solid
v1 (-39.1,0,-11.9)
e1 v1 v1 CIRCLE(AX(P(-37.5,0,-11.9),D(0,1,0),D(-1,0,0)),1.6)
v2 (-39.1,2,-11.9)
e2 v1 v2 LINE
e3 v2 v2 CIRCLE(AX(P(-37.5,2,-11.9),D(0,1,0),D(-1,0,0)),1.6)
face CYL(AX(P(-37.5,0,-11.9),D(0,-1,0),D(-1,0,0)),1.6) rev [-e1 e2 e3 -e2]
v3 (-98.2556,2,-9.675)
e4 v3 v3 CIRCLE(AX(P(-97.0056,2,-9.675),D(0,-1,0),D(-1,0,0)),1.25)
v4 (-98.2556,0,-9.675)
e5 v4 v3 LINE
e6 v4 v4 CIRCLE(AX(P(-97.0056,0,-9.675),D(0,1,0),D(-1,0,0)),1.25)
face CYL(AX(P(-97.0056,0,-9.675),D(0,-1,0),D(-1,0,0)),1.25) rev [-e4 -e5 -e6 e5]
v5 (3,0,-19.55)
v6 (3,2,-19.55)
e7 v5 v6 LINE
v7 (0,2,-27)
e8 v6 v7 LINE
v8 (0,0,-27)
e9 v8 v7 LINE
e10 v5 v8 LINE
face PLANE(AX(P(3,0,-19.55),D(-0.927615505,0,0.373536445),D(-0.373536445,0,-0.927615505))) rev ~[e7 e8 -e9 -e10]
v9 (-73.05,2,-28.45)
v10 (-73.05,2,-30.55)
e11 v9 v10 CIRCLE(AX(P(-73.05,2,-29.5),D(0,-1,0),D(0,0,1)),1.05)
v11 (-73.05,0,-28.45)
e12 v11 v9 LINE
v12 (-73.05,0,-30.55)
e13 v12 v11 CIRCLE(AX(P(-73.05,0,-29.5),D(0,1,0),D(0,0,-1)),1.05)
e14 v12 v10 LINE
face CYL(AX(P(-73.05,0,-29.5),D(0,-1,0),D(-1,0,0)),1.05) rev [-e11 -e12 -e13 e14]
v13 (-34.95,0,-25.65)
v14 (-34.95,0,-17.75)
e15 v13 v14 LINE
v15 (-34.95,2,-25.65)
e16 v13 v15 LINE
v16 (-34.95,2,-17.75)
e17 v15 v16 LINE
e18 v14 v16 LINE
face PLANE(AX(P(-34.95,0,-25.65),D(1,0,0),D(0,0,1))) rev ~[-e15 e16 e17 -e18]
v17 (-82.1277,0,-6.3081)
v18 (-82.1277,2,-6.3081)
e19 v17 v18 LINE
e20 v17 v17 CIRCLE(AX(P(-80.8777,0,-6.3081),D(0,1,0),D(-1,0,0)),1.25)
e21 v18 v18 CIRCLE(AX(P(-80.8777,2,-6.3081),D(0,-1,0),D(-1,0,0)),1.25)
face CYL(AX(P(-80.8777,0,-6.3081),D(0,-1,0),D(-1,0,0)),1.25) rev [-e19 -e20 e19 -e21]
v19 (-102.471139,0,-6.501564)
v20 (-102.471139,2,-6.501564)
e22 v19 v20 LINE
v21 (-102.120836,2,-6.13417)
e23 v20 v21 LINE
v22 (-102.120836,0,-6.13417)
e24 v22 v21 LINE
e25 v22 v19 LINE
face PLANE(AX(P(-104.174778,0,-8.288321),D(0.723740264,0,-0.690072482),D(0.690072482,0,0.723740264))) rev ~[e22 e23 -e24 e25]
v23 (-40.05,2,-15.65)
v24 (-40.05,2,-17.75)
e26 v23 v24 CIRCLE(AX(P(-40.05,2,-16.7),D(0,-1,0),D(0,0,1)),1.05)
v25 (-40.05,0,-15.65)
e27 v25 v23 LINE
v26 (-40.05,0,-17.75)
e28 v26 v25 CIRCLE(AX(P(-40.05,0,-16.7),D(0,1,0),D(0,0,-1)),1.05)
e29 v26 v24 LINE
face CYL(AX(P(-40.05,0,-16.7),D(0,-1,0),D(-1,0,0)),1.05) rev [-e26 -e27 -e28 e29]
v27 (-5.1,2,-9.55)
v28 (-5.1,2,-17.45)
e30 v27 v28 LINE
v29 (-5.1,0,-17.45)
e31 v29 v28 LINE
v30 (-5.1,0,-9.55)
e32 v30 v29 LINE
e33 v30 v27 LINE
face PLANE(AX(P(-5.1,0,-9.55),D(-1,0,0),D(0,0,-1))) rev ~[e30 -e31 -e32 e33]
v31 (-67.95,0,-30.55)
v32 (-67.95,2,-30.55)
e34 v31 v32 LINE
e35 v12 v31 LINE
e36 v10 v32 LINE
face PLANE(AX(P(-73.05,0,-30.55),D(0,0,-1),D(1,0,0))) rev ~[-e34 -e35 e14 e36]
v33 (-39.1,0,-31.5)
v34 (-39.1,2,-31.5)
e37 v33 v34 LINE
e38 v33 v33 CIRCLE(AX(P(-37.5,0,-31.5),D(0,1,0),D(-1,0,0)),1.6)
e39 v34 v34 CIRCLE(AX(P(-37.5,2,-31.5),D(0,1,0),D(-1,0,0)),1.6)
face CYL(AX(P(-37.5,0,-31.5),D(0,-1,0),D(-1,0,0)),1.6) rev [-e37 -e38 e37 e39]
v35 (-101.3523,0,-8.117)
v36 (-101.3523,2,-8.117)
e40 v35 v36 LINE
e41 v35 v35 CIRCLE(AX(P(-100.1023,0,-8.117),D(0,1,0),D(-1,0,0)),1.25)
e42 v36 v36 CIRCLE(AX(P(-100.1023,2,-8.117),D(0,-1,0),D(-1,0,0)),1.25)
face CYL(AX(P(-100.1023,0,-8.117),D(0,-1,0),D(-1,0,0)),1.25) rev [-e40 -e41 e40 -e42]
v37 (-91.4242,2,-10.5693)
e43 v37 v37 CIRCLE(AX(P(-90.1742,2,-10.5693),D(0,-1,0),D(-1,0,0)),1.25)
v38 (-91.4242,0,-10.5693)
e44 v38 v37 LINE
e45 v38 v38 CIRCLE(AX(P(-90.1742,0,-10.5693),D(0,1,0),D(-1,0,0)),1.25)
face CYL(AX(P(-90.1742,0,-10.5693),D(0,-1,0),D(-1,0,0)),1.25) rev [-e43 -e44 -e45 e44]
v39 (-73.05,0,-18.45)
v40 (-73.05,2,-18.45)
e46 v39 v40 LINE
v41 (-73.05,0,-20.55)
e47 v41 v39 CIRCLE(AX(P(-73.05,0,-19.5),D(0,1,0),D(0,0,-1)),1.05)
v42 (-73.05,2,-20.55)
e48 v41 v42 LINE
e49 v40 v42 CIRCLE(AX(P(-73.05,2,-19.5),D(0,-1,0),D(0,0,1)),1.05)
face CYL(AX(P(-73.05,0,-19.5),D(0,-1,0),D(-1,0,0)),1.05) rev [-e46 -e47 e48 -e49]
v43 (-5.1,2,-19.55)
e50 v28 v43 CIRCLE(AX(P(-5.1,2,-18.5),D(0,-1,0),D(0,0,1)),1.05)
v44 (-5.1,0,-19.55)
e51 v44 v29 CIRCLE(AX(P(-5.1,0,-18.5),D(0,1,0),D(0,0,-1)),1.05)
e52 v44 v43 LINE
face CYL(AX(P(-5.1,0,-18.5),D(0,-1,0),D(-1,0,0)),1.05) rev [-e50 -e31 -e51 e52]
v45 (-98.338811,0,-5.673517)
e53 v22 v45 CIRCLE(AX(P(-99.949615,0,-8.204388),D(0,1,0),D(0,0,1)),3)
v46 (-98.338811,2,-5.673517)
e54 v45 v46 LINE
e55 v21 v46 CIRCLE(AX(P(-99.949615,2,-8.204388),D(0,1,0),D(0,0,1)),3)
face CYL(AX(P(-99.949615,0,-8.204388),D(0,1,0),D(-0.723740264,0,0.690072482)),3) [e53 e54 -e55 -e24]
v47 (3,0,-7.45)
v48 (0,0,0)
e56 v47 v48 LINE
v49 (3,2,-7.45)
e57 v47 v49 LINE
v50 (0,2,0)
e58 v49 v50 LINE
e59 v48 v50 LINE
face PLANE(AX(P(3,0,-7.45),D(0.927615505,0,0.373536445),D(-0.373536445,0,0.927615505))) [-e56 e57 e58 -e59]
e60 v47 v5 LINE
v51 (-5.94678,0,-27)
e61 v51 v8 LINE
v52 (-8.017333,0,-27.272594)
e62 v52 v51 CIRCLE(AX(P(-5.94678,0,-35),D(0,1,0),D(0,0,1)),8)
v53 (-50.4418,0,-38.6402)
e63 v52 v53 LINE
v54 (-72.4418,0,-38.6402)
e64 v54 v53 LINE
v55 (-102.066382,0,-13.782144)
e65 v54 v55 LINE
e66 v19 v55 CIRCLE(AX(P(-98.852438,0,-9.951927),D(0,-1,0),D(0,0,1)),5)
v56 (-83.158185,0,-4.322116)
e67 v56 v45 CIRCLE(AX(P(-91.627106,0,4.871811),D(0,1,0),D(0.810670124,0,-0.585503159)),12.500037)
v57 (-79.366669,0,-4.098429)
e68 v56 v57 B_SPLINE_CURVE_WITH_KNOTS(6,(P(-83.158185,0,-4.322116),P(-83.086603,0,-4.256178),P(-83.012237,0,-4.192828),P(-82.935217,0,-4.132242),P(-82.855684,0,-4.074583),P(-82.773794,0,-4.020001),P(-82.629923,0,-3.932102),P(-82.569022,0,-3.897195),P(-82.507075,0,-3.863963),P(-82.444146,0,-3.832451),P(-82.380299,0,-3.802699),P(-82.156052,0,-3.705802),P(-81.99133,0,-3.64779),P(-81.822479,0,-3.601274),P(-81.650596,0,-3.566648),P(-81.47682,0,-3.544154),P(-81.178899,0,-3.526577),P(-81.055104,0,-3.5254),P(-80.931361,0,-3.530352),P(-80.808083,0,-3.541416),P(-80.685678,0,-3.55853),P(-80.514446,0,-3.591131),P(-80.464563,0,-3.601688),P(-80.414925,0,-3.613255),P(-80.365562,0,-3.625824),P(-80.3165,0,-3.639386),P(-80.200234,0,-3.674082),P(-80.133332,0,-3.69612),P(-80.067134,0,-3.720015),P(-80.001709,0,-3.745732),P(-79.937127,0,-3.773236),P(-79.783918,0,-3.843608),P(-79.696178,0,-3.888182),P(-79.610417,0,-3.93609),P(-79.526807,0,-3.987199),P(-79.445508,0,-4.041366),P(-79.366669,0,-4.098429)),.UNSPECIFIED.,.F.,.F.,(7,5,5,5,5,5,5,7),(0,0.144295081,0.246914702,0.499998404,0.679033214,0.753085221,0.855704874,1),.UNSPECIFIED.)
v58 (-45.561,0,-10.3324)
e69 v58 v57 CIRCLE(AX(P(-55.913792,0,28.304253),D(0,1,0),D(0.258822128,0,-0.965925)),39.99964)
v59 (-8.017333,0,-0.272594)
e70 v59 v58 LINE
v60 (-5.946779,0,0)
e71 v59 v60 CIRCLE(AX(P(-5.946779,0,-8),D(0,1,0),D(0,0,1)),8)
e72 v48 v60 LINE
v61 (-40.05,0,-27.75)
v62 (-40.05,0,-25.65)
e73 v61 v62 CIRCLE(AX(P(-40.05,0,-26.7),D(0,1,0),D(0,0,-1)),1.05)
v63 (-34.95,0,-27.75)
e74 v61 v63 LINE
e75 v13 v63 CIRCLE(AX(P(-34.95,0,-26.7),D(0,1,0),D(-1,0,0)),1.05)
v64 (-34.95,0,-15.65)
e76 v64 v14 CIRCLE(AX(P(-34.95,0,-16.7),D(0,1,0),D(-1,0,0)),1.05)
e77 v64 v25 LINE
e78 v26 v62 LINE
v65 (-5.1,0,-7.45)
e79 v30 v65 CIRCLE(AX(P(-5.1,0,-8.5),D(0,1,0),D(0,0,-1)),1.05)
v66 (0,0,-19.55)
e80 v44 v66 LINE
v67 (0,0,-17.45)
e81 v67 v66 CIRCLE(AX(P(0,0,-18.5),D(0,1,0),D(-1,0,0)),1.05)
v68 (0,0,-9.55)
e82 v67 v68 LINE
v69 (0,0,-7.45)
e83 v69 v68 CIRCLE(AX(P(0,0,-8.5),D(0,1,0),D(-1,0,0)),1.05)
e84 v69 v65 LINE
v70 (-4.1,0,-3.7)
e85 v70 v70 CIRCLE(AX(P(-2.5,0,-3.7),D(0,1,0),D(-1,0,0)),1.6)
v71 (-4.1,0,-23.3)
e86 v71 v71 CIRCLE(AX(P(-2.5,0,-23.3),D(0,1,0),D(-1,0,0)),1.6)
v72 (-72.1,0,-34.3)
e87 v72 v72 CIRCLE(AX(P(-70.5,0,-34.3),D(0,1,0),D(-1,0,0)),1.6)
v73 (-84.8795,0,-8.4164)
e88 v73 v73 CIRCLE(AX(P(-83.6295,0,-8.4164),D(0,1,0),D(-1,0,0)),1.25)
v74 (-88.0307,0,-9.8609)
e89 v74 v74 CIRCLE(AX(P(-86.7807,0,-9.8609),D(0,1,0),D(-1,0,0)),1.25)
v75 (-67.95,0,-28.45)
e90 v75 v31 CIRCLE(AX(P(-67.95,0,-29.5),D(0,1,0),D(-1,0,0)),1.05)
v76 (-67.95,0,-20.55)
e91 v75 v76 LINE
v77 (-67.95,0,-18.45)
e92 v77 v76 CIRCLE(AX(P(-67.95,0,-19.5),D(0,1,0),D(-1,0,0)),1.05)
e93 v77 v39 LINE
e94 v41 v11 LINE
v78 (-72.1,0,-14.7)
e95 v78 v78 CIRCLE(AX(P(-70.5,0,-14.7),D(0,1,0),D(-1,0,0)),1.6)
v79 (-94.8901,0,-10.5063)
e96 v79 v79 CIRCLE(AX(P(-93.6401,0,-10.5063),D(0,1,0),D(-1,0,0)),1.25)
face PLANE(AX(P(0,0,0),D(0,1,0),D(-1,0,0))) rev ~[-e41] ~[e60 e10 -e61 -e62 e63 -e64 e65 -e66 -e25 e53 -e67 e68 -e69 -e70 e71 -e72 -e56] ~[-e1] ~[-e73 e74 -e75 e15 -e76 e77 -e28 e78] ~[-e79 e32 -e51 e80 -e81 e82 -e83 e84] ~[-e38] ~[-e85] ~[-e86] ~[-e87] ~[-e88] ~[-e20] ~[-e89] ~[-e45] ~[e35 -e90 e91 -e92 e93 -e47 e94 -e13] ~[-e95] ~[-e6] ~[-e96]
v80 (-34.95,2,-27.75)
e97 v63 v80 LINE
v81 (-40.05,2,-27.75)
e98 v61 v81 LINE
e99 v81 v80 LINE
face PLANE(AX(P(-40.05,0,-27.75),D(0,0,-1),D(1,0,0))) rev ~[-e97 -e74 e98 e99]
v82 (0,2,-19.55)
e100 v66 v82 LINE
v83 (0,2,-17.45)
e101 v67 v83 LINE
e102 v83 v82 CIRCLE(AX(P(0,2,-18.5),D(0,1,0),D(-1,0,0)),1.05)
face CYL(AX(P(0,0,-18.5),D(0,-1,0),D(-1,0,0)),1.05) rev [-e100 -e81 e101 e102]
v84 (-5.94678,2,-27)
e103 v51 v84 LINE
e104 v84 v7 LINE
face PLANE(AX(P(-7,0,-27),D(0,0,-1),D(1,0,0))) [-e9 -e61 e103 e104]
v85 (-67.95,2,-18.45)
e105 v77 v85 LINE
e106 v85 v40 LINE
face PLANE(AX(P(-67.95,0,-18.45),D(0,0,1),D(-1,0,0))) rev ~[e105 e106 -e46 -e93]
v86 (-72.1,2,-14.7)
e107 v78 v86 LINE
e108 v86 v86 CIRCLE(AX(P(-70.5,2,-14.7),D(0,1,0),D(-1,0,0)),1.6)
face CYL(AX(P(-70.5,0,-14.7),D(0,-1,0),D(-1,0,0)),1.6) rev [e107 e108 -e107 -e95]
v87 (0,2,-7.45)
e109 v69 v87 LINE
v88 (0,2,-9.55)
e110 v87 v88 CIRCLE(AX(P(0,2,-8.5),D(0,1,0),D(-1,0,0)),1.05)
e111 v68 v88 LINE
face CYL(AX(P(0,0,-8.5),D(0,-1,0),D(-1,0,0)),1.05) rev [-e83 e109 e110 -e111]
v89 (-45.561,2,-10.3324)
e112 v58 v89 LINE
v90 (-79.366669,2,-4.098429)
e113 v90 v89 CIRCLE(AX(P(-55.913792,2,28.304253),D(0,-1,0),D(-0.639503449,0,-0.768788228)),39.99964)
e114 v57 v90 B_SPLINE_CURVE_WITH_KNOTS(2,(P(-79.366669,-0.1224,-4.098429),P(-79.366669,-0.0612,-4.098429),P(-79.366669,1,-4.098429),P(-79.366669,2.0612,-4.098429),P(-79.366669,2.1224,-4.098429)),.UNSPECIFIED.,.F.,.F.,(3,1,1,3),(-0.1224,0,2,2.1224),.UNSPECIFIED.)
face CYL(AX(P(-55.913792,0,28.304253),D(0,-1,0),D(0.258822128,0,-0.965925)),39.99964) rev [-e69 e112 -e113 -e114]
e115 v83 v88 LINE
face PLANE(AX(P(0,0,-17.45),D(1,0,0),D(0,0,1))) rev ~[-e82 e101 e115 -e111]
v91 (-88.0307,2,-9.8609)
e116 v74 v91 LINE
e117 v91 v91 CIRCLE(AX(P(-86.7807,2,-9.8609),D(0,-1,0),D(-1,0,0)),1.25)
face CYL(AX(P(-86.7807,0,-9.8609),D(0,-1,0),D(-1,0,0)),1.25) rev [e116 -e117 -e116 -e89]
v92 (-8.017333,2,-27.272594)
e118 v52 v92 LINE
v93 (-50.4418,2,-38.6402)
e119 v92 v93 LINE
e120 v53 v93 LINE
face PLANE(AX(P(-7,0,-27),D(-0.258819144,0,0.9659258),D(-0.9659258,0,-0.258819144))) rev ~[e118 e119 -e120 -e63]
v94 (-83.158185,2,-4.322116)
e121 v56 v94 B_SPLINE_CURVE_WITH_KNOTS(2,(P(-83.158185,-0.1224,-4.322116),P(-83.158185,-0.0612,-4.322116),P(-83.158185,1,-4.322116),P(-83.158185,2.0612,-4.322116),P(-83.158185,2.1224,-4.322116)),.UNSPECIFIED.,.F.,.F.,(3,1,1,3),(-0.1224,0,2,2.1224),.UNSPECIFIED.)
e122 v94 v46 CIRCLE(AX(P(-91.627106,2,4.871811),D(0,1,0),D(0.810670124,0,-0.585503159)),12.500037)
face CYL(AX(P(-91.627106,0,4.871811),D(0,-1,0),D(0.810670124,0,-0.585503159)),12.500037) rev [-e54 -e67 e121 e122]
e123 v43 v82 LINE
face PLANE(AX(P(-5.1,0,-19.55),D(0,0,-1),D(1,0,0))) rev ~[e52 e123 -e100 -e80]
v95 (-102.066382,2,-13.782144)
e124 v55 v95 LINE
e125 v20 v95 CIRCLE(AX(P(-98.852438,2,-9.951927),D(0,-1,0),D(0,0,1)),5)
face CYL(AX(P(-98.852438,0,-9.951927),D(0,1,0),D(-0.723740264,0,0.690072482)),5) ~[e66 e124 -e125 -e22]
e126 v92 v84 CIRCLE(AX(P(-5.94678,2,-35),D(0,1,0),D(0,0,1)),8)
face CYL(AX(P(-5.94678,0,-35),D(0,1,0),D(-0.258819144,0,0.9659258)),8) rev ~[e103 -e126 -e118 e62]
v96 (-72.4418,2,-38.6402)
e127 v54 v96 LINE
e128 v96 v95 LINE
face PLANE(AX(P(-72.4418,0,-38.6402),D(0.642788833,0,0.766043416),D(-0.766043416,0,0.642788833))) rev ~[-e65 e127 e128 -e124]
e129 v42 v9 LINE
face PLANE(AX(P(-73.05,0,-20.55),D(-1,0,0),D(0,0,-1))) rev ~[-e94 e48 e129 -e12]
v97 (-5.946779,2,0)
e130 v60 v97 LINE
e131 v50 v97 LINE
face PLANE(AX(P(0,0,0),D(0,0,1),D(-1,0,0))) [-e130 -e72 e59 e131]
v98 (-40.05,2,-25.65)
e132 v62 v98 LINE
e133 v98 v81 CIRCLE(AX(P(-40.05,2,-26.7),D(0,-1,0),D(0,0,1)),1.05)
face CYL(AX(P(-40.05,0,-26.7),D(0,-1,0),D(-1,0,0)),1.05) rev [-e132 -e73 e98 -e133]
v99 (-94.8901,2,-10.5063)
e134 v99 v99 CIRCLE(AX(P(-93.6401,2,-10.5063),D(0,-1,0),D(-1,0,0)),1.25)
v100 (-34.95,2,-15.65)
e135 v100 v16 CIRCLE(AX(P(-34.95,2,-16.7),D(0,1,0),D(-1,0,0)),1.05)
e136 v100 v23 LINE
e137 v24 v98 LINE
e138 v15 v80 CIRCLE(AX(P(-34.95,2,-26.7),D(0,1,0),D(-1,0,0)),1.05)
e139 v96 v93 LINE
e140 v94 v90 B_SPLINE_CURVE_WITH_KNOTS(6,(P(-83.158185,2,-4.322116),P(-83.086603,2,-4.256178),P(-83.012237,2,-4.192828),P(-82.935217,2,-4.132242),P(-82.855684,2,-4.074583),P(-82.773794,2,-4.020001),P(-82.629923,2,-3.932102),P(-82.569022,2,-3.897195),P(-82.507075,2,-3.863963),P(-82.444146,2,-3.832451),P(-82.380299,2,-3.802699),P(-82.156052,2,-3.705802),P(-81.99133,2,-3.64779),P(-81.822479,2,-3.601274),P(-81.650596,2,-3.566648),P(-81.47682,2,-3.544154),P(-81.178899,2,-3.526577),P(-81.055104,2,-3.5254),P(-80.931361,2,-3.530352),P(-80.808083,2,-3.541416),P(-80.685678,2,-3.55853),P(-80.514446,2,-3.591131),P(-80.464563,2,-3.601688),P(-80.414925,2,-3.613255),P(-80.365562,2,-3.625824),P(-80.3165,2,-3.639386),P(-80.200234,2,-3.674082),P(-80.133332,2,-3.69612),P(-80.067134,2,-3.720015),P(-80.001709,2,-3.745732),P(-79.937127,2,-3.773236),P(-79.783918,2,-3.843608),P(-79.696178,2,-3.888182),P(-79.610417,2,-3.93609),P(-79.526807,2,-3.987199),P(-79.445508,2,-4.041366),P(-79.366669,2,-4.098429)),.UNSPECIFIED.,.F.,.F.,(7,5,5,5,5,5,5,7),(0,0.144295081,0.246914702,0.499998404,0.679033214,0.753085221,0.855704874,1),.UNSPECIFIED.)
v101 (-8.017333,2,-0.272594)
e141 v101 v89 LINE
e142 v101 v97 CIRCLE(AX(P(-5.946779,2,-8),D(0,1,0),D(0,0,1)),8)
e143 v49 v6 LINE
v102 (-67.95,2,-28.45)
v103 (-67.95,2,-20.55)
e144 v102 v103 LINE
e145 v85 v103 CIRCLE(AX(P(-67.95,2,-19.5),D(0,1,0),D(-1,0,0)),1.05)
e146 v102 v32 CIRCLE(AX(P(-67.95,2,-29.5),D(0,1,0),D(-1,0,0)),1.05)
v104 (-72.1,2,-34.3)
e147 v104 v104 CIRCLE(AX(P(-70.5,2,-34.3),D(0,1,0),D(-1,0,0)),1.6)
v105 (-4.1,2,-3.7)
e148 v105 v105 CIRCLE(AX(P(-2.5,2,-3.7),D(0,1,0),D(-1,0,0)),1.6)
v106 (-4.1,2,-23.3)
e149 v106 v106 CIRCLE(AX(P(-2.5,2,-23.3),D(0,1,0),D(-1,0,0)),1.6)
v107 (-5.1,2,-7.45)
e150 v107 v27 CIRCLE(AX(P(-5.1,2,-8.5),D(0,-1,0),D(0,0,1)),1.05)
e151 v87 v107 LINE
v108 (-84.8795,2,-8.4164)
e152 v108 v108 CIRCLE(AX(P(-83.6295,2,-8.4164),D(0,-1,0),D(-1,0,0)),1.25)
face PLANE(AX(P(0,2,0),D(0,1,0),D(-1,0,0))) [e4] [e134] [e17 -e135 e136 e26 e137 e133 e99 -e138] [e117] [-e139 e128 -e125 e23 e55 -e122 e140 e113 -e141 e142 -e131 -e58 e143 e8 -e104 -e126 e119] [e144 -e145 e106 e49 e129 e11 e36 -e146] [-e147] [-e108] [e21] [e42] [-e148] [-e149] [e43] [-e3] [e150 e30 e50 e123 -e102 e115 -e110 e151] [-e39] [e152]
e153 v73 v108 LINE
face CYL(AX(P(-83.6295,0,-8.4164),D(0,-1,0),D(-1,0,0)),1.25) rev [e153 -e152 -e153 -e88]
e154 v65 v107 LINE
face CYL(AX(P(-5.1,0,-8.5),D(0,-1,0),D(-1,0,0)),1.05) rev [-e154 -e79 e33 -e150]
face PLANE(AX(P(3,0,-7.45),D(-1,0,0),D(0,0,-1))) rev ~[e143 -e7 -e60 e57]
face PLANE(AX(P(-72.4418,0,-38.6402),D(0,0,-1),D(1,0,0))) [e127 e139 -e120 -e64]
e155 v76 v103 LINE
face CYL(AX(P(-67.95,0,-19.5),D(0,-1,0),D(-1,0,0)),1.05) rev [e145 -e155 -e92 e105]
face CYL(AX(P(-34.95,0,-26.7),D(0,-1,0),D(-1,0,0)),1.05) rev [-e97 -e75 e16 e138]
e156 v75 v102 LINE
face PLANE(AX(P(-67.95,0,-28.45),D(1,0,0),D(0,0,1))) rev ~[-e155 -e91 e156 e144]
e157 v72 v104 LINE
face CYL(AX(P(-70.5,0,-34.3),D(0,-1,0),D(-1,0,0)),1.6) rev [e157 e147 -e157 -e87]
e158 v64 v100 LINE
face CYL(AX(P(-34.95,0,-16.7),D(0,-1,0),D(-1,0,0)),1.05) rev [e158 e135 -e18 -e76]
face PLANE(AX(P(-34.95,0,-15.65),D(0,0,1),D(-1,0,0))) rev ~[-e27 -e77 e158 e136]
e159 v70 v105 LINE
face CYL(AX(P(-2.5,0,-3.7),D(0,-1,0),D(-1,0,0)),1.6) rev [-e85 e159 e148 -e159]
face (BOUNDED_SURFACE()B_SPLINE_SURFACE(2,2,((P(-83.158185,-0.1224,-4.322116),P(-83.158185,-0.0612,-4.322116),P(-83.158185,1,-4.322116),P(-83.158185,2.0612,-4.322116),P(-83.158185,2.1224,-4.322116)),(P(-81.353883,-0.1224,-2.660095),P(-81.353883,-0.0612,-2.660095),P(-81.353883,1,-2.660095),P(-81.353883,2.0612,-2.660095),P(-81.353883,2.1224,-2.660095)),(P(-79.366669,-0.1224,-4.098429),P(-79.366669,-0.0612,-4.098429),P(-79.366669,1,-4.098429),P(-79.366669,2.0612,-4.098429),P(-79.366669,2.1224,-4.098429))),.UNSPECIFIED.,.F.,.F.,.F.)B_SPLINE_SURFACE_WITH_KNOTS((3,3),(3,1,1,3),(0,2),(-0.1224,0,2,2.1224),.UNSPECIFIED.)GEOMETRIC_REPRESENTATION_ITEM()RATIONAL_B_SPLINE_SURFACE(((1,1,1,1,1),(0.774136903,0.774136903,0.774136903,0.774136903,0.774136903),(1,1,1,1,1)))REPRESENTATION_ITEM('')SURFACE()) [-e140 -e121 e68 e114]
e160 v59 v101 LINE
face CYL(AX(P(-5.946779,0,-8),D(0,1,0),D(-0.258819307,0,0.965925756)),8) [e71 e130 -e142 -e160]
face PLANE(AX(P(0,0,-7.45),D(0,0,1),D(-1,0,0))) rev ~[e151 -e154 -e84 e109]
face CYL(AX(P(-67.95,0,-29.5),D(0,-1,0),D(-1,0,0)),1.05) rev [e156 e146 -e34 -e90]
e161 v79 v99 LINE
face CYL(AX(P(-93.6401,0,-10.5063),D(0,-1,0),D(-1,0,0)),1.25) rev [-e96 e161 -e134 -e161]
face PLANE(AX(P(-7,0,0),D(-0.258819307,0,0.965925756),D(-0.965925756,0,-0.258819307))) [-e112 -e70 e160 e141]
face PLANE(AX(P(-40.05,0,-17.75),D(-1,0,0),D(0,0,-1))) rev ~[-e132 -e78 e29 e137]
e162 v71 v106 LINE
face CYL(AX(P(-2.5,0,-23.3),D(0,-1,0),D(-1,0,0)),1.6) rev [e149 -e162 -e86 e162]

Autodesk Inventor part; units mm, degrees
ref_plane "YZ Plane" through (0, 0, 0) normal (1, 0, 0) x (0, 1, 0)
ref_plane "XZ Plane" through (0, 0, 0) normal (0, 1, 0) x (-1, 0, 0)
ref_plane "XY Plane" through (0, 0, 0) normal (0, 0, 1) x (1, 0, 0)
sketch "スケッチ1" plane through (0, 0, 0) normal (0, 1, 0) x (-1, 0, 0)
  line L0 (0, 0) -> (7, 0)
  line L1 (7, 0) -> (7, -27) construction
  line L2 (7, -27) -> (0, -27)
  line L3 (0, -27) -> (0, 0) construction
  circle A0 centre (2.5, -3.7) radius 1.6
  circle A1 centre (2.5, -23.3) radius 1.6
  line L4 (5.05, -7.5) -> (0.05, -7.5) construction
  line L5 (0.05, -7.5) -> (0.05, -19.5) construction
  line L6 (0.05, -19.5) -> (5.05, -19.5) construction
  line L7 (5.05, -19.5) -> (5.05, -7.5) construction
  line L8 (0, -7.45) -> (5.1, -7.45)
  line L9 (5.1, -7.45) -> (5.1, -19.55)
  line L10 (5.1, -19.55) -> (0, -19.55)
  line L11 (0, -19.55) -> (0, -7.45)
  line L12 (84.5459, 21.5815) -> (61.9185, -1.0459) construction
  line L13 (61.9185, -1.0459) -> (65.4541, -4.5815) construction
  line L14 (65.4541, -4.5815) -> (88.0815, 18.0459) construction
  line L15 (88.0815, 18.0459) -> (84.5459, 21.5815) construction
  line L16 (70.3953, 0.3598) -> (83.1317, 13.0962)
  circle A2 centre (100.1023, -8.117) radius 1.25
  line L17 (7, 0) -> (45.561, -10.3324)
  line L18 (7, -27) -> (50.4418, -38.6402)
  line L19 (72.4418, -38.6402) -> (106.1477, -10.3575)
  line L20 (106.1477, -10.3575) -> (100.2529, -4.1751)
  arc A3 (45.561, -10.3324) -> (81.4937, -2.447) centre (55.9138, 28.3046) ccw
  line L21 (72.4418, -38.6402) -> (50.4418, -38.6402)
  line L22 (40, -9.2) -> (35, -9.2) construction
  line L23 (35, -9.2) -> (35, -34.2) construction
  line L24 (35, -34.2) -> (40, -34.2) construction
  line L25 (40, -34.2) -> (40, -9.2) construction
  circle A4 centre (97.0056, -9.675) radius 1.25
  circle A5 centre (93.6401, -10.5063) radius 1.25
  circle A6 centre (90.1742, -10.5693) radius 1.25
  circle A7 centre (86.7807, -9.8609) radius 1.25
  circle A8 centre (83.6295, -8.4164) radius 1.25
  circle A9 centre (80.8777, -6.3081) radius 1.25
  line L26 (100.2529, -4.1751) -> (104.1748, -8.2883)
  arc A10 (81.4937, -2.447) -> (100.2529, -4.1751) centre (91.6271, 4.8718) ccw
  line L27 (40, -15.7) -> (35, -15.7) construction
  line L28 (35, -15.7) -> (35, -27.7) construction
  line L29 (35, -27.7) -> (40, -27.7) construction
  line L30 (40, -27.7) -> (40, -15.7) construction
  line L31 (34.95, -15.65) -> (40.05, -15.65)
  line L32 (40.05, -15.65) -> (40.05, -27.75)
  line L33 (40.05, -27.75) -> (34.95, -27.75)
  line L34 (34.95, -27.75) -> (34.95, -15.65)
  circle A11 centre (37.5, -11.9) radius 1.6
  circle A12 centre (37.5, -31.5) radius 1.6
  line L35 (73, -12) -> (68, -12) construction
  line L36 (68, -12) -> (68, -37) construction
  line L37 (68, -37) -> (73, -37) construction
  line L38 (73, -37) -> (73, -12) construction
  line L39 (73, -18.5) -> (68, -18.5) construction
  line L40 (68, -18.5) -> (68, -30.5) construction
  line L41 (68, -30.5) -> (73, -30.5) construction
  line L42 (73, -30.5) -> (73, -18.5) construction
  line L43 (67.95, -18.45) -> (73.05, -18.45)
  line L44 (73.05, -18.45) -> (73.05, -30.55)
  line L45 (73.05, -30.55) -> (67.95, -30.55)
  line L46 (67.95, -30.55) -> (67.95, -18.45)
  circle A13 centre (70.5, -14.7) radius 1.6
  circle A14 centre (70.5, -34.3) radius 1.6
  circle A15 centre (73.05, -19.5) radius 1.05
  circle A16 centre (67.95, -19.5) radius 1.05
  circle A17 centre (67.95, -29.5) radius 1.05
  circle A18 centre (73.05, -29.5) radius 1.05
  circle A19 centre (40.05, -16.7) radius 1.05
  circle A20 centre (34.95, -16.7) radius 1.05
  circle A21 centre (34.95, -26.7) radius 1.05
  circle A22 centre (40.05, -26.7) radius 1.05
  circle A23 centre (5.1, -8.5) radius 1.05
  circle A24 centre (0, -8.5) radius 1.05
  circle A25 centre (0, -18.5) radius 1.05
  circle A26 centre (5.1, -18.5) radius 1.05
  line L47 (-3, -7.45) -> (-3, -19.55)
  line L48 (-3, -19.55) -> (0, -27)
  line L49 (-3, -7.45) -> (0, 0)
  circle A27 centre (91.6271, 4.8718) radius 15.5
  point P0 (75, 8.5)
  point P1 (91.6085, -20.8534)
  point P2 (82.042, -3.1517)
  point P3 (81.2596, -2.6403)
  point P4 (55.561, -0.3324)
  point P5 (40, -14.6)
  point P6 (35, -14.6)
  point P7 (40, -28.8)
  point P8 (35, -28.8)
  dimension "d0" = 7
  dimension "d1" = 27
  dimension "d2" = 3.2
  dimension "d3" = 3.2
  dimension "d4" = 5
  dimension "d5" = 12
  dimension "d6" = 2.5
  dimension "d7" = 2.5
  dimension "d8" = 19.6
  dimension "d9" = 3.7
  dimension "d11" = 7.5
  dimension "d12" = 0.05
  dimension "d20" = 32
  dimension "d21" = 5
  dimension "d22" = 45
  dimension "d23" = 2.5
  dimension "d24" = 16
  dimension "d25" = 75
  dimension "d26" = 8.5
  dimension "d27" = 30
  dimension "d33" = 27
  dimension "d35" = 2.5
  dimension "d44" = 75
  dimension "d49" = 75
  dimension "d52" = 40
  dimension "d53" = 30
  dimension "d56" = 39
  dimension "d61" = 5
  dimension "d62" = 25
  dimension "d63" = 33
  dimension "d64" = 9.2
  dimension "d69" = 77
  dimension "d72" = 22
  dimension "d73" = 12.5
  dimension "d74" = 50
  dimension "d75" = 21
  dimension "d76" = 44
  dimension "d77" = 12
  dimension "d78" = 6.5
  dimension "d79" = 0.05
  dimension "d84" = 3.2
  dimension "d85" = 2.5
  dimension "d86" = 2.7
  dimension "d88" = 3.2
  dimension "d89" = 19.6
  dimension "d90" = 2.5
  dimension "d91" = 5
  dimension "d92" = 25
  dimension "d93" = 12
  dimension "d94" = 6.5
  dimension "d95" = 0.05
  dimension "d100" = 3.2
  dimension "d101" = 2.5
  dimension "d102" = 2.7
  dimension "d104" = 3.2
  dimension "d105" = 19.6
  dimension "d106" = 2.5
  dimension "d107" = 12
  dimension "d109" = 66
  dimension "d118" = 2.1
  dimension "d119" = 2.1
  dimension "d120" = 2.1
  dimension "d121" = 2.1
  dimension "d122" = 2.1
extrude "押し出し2" add sketch "スケッチ1" along normal blind 2 contours L0 L17 A3 A27 A9 A8 A7 A6 A5 A4 A2 L20 L19 L21 L18 L2 L48 L47 L49 | A3 A10 L20 A27 A2 A4 A5 A6 A7 A8 A9
fillet "フィレット1" radius 5 1 edges at (-106.1477, 1, -10.3575)
fillet "フィレット2" radius 3 2 edges at (-81.4937, 1, -2.447) (-100.2529, 1, -4.1751)
fillet "フィレット3" radius 8 2 edges at (-7, 1, -27) (-7, 1, 0)
equation "\"d7\" = d6"
equation "\"d11\" = -0.5 * d5 + 0.5 * d1"
equation "\"d23\" = 0.5 * d21"
equation "\"d24\" = 0.5 * d20"
equation "\"d49\" = d44"
equation "\"d28\" = d20 - 2 * d29"
equation "\"d29\" = 7"
properties part number "頭＿メインフレーム" material "GFRP"
